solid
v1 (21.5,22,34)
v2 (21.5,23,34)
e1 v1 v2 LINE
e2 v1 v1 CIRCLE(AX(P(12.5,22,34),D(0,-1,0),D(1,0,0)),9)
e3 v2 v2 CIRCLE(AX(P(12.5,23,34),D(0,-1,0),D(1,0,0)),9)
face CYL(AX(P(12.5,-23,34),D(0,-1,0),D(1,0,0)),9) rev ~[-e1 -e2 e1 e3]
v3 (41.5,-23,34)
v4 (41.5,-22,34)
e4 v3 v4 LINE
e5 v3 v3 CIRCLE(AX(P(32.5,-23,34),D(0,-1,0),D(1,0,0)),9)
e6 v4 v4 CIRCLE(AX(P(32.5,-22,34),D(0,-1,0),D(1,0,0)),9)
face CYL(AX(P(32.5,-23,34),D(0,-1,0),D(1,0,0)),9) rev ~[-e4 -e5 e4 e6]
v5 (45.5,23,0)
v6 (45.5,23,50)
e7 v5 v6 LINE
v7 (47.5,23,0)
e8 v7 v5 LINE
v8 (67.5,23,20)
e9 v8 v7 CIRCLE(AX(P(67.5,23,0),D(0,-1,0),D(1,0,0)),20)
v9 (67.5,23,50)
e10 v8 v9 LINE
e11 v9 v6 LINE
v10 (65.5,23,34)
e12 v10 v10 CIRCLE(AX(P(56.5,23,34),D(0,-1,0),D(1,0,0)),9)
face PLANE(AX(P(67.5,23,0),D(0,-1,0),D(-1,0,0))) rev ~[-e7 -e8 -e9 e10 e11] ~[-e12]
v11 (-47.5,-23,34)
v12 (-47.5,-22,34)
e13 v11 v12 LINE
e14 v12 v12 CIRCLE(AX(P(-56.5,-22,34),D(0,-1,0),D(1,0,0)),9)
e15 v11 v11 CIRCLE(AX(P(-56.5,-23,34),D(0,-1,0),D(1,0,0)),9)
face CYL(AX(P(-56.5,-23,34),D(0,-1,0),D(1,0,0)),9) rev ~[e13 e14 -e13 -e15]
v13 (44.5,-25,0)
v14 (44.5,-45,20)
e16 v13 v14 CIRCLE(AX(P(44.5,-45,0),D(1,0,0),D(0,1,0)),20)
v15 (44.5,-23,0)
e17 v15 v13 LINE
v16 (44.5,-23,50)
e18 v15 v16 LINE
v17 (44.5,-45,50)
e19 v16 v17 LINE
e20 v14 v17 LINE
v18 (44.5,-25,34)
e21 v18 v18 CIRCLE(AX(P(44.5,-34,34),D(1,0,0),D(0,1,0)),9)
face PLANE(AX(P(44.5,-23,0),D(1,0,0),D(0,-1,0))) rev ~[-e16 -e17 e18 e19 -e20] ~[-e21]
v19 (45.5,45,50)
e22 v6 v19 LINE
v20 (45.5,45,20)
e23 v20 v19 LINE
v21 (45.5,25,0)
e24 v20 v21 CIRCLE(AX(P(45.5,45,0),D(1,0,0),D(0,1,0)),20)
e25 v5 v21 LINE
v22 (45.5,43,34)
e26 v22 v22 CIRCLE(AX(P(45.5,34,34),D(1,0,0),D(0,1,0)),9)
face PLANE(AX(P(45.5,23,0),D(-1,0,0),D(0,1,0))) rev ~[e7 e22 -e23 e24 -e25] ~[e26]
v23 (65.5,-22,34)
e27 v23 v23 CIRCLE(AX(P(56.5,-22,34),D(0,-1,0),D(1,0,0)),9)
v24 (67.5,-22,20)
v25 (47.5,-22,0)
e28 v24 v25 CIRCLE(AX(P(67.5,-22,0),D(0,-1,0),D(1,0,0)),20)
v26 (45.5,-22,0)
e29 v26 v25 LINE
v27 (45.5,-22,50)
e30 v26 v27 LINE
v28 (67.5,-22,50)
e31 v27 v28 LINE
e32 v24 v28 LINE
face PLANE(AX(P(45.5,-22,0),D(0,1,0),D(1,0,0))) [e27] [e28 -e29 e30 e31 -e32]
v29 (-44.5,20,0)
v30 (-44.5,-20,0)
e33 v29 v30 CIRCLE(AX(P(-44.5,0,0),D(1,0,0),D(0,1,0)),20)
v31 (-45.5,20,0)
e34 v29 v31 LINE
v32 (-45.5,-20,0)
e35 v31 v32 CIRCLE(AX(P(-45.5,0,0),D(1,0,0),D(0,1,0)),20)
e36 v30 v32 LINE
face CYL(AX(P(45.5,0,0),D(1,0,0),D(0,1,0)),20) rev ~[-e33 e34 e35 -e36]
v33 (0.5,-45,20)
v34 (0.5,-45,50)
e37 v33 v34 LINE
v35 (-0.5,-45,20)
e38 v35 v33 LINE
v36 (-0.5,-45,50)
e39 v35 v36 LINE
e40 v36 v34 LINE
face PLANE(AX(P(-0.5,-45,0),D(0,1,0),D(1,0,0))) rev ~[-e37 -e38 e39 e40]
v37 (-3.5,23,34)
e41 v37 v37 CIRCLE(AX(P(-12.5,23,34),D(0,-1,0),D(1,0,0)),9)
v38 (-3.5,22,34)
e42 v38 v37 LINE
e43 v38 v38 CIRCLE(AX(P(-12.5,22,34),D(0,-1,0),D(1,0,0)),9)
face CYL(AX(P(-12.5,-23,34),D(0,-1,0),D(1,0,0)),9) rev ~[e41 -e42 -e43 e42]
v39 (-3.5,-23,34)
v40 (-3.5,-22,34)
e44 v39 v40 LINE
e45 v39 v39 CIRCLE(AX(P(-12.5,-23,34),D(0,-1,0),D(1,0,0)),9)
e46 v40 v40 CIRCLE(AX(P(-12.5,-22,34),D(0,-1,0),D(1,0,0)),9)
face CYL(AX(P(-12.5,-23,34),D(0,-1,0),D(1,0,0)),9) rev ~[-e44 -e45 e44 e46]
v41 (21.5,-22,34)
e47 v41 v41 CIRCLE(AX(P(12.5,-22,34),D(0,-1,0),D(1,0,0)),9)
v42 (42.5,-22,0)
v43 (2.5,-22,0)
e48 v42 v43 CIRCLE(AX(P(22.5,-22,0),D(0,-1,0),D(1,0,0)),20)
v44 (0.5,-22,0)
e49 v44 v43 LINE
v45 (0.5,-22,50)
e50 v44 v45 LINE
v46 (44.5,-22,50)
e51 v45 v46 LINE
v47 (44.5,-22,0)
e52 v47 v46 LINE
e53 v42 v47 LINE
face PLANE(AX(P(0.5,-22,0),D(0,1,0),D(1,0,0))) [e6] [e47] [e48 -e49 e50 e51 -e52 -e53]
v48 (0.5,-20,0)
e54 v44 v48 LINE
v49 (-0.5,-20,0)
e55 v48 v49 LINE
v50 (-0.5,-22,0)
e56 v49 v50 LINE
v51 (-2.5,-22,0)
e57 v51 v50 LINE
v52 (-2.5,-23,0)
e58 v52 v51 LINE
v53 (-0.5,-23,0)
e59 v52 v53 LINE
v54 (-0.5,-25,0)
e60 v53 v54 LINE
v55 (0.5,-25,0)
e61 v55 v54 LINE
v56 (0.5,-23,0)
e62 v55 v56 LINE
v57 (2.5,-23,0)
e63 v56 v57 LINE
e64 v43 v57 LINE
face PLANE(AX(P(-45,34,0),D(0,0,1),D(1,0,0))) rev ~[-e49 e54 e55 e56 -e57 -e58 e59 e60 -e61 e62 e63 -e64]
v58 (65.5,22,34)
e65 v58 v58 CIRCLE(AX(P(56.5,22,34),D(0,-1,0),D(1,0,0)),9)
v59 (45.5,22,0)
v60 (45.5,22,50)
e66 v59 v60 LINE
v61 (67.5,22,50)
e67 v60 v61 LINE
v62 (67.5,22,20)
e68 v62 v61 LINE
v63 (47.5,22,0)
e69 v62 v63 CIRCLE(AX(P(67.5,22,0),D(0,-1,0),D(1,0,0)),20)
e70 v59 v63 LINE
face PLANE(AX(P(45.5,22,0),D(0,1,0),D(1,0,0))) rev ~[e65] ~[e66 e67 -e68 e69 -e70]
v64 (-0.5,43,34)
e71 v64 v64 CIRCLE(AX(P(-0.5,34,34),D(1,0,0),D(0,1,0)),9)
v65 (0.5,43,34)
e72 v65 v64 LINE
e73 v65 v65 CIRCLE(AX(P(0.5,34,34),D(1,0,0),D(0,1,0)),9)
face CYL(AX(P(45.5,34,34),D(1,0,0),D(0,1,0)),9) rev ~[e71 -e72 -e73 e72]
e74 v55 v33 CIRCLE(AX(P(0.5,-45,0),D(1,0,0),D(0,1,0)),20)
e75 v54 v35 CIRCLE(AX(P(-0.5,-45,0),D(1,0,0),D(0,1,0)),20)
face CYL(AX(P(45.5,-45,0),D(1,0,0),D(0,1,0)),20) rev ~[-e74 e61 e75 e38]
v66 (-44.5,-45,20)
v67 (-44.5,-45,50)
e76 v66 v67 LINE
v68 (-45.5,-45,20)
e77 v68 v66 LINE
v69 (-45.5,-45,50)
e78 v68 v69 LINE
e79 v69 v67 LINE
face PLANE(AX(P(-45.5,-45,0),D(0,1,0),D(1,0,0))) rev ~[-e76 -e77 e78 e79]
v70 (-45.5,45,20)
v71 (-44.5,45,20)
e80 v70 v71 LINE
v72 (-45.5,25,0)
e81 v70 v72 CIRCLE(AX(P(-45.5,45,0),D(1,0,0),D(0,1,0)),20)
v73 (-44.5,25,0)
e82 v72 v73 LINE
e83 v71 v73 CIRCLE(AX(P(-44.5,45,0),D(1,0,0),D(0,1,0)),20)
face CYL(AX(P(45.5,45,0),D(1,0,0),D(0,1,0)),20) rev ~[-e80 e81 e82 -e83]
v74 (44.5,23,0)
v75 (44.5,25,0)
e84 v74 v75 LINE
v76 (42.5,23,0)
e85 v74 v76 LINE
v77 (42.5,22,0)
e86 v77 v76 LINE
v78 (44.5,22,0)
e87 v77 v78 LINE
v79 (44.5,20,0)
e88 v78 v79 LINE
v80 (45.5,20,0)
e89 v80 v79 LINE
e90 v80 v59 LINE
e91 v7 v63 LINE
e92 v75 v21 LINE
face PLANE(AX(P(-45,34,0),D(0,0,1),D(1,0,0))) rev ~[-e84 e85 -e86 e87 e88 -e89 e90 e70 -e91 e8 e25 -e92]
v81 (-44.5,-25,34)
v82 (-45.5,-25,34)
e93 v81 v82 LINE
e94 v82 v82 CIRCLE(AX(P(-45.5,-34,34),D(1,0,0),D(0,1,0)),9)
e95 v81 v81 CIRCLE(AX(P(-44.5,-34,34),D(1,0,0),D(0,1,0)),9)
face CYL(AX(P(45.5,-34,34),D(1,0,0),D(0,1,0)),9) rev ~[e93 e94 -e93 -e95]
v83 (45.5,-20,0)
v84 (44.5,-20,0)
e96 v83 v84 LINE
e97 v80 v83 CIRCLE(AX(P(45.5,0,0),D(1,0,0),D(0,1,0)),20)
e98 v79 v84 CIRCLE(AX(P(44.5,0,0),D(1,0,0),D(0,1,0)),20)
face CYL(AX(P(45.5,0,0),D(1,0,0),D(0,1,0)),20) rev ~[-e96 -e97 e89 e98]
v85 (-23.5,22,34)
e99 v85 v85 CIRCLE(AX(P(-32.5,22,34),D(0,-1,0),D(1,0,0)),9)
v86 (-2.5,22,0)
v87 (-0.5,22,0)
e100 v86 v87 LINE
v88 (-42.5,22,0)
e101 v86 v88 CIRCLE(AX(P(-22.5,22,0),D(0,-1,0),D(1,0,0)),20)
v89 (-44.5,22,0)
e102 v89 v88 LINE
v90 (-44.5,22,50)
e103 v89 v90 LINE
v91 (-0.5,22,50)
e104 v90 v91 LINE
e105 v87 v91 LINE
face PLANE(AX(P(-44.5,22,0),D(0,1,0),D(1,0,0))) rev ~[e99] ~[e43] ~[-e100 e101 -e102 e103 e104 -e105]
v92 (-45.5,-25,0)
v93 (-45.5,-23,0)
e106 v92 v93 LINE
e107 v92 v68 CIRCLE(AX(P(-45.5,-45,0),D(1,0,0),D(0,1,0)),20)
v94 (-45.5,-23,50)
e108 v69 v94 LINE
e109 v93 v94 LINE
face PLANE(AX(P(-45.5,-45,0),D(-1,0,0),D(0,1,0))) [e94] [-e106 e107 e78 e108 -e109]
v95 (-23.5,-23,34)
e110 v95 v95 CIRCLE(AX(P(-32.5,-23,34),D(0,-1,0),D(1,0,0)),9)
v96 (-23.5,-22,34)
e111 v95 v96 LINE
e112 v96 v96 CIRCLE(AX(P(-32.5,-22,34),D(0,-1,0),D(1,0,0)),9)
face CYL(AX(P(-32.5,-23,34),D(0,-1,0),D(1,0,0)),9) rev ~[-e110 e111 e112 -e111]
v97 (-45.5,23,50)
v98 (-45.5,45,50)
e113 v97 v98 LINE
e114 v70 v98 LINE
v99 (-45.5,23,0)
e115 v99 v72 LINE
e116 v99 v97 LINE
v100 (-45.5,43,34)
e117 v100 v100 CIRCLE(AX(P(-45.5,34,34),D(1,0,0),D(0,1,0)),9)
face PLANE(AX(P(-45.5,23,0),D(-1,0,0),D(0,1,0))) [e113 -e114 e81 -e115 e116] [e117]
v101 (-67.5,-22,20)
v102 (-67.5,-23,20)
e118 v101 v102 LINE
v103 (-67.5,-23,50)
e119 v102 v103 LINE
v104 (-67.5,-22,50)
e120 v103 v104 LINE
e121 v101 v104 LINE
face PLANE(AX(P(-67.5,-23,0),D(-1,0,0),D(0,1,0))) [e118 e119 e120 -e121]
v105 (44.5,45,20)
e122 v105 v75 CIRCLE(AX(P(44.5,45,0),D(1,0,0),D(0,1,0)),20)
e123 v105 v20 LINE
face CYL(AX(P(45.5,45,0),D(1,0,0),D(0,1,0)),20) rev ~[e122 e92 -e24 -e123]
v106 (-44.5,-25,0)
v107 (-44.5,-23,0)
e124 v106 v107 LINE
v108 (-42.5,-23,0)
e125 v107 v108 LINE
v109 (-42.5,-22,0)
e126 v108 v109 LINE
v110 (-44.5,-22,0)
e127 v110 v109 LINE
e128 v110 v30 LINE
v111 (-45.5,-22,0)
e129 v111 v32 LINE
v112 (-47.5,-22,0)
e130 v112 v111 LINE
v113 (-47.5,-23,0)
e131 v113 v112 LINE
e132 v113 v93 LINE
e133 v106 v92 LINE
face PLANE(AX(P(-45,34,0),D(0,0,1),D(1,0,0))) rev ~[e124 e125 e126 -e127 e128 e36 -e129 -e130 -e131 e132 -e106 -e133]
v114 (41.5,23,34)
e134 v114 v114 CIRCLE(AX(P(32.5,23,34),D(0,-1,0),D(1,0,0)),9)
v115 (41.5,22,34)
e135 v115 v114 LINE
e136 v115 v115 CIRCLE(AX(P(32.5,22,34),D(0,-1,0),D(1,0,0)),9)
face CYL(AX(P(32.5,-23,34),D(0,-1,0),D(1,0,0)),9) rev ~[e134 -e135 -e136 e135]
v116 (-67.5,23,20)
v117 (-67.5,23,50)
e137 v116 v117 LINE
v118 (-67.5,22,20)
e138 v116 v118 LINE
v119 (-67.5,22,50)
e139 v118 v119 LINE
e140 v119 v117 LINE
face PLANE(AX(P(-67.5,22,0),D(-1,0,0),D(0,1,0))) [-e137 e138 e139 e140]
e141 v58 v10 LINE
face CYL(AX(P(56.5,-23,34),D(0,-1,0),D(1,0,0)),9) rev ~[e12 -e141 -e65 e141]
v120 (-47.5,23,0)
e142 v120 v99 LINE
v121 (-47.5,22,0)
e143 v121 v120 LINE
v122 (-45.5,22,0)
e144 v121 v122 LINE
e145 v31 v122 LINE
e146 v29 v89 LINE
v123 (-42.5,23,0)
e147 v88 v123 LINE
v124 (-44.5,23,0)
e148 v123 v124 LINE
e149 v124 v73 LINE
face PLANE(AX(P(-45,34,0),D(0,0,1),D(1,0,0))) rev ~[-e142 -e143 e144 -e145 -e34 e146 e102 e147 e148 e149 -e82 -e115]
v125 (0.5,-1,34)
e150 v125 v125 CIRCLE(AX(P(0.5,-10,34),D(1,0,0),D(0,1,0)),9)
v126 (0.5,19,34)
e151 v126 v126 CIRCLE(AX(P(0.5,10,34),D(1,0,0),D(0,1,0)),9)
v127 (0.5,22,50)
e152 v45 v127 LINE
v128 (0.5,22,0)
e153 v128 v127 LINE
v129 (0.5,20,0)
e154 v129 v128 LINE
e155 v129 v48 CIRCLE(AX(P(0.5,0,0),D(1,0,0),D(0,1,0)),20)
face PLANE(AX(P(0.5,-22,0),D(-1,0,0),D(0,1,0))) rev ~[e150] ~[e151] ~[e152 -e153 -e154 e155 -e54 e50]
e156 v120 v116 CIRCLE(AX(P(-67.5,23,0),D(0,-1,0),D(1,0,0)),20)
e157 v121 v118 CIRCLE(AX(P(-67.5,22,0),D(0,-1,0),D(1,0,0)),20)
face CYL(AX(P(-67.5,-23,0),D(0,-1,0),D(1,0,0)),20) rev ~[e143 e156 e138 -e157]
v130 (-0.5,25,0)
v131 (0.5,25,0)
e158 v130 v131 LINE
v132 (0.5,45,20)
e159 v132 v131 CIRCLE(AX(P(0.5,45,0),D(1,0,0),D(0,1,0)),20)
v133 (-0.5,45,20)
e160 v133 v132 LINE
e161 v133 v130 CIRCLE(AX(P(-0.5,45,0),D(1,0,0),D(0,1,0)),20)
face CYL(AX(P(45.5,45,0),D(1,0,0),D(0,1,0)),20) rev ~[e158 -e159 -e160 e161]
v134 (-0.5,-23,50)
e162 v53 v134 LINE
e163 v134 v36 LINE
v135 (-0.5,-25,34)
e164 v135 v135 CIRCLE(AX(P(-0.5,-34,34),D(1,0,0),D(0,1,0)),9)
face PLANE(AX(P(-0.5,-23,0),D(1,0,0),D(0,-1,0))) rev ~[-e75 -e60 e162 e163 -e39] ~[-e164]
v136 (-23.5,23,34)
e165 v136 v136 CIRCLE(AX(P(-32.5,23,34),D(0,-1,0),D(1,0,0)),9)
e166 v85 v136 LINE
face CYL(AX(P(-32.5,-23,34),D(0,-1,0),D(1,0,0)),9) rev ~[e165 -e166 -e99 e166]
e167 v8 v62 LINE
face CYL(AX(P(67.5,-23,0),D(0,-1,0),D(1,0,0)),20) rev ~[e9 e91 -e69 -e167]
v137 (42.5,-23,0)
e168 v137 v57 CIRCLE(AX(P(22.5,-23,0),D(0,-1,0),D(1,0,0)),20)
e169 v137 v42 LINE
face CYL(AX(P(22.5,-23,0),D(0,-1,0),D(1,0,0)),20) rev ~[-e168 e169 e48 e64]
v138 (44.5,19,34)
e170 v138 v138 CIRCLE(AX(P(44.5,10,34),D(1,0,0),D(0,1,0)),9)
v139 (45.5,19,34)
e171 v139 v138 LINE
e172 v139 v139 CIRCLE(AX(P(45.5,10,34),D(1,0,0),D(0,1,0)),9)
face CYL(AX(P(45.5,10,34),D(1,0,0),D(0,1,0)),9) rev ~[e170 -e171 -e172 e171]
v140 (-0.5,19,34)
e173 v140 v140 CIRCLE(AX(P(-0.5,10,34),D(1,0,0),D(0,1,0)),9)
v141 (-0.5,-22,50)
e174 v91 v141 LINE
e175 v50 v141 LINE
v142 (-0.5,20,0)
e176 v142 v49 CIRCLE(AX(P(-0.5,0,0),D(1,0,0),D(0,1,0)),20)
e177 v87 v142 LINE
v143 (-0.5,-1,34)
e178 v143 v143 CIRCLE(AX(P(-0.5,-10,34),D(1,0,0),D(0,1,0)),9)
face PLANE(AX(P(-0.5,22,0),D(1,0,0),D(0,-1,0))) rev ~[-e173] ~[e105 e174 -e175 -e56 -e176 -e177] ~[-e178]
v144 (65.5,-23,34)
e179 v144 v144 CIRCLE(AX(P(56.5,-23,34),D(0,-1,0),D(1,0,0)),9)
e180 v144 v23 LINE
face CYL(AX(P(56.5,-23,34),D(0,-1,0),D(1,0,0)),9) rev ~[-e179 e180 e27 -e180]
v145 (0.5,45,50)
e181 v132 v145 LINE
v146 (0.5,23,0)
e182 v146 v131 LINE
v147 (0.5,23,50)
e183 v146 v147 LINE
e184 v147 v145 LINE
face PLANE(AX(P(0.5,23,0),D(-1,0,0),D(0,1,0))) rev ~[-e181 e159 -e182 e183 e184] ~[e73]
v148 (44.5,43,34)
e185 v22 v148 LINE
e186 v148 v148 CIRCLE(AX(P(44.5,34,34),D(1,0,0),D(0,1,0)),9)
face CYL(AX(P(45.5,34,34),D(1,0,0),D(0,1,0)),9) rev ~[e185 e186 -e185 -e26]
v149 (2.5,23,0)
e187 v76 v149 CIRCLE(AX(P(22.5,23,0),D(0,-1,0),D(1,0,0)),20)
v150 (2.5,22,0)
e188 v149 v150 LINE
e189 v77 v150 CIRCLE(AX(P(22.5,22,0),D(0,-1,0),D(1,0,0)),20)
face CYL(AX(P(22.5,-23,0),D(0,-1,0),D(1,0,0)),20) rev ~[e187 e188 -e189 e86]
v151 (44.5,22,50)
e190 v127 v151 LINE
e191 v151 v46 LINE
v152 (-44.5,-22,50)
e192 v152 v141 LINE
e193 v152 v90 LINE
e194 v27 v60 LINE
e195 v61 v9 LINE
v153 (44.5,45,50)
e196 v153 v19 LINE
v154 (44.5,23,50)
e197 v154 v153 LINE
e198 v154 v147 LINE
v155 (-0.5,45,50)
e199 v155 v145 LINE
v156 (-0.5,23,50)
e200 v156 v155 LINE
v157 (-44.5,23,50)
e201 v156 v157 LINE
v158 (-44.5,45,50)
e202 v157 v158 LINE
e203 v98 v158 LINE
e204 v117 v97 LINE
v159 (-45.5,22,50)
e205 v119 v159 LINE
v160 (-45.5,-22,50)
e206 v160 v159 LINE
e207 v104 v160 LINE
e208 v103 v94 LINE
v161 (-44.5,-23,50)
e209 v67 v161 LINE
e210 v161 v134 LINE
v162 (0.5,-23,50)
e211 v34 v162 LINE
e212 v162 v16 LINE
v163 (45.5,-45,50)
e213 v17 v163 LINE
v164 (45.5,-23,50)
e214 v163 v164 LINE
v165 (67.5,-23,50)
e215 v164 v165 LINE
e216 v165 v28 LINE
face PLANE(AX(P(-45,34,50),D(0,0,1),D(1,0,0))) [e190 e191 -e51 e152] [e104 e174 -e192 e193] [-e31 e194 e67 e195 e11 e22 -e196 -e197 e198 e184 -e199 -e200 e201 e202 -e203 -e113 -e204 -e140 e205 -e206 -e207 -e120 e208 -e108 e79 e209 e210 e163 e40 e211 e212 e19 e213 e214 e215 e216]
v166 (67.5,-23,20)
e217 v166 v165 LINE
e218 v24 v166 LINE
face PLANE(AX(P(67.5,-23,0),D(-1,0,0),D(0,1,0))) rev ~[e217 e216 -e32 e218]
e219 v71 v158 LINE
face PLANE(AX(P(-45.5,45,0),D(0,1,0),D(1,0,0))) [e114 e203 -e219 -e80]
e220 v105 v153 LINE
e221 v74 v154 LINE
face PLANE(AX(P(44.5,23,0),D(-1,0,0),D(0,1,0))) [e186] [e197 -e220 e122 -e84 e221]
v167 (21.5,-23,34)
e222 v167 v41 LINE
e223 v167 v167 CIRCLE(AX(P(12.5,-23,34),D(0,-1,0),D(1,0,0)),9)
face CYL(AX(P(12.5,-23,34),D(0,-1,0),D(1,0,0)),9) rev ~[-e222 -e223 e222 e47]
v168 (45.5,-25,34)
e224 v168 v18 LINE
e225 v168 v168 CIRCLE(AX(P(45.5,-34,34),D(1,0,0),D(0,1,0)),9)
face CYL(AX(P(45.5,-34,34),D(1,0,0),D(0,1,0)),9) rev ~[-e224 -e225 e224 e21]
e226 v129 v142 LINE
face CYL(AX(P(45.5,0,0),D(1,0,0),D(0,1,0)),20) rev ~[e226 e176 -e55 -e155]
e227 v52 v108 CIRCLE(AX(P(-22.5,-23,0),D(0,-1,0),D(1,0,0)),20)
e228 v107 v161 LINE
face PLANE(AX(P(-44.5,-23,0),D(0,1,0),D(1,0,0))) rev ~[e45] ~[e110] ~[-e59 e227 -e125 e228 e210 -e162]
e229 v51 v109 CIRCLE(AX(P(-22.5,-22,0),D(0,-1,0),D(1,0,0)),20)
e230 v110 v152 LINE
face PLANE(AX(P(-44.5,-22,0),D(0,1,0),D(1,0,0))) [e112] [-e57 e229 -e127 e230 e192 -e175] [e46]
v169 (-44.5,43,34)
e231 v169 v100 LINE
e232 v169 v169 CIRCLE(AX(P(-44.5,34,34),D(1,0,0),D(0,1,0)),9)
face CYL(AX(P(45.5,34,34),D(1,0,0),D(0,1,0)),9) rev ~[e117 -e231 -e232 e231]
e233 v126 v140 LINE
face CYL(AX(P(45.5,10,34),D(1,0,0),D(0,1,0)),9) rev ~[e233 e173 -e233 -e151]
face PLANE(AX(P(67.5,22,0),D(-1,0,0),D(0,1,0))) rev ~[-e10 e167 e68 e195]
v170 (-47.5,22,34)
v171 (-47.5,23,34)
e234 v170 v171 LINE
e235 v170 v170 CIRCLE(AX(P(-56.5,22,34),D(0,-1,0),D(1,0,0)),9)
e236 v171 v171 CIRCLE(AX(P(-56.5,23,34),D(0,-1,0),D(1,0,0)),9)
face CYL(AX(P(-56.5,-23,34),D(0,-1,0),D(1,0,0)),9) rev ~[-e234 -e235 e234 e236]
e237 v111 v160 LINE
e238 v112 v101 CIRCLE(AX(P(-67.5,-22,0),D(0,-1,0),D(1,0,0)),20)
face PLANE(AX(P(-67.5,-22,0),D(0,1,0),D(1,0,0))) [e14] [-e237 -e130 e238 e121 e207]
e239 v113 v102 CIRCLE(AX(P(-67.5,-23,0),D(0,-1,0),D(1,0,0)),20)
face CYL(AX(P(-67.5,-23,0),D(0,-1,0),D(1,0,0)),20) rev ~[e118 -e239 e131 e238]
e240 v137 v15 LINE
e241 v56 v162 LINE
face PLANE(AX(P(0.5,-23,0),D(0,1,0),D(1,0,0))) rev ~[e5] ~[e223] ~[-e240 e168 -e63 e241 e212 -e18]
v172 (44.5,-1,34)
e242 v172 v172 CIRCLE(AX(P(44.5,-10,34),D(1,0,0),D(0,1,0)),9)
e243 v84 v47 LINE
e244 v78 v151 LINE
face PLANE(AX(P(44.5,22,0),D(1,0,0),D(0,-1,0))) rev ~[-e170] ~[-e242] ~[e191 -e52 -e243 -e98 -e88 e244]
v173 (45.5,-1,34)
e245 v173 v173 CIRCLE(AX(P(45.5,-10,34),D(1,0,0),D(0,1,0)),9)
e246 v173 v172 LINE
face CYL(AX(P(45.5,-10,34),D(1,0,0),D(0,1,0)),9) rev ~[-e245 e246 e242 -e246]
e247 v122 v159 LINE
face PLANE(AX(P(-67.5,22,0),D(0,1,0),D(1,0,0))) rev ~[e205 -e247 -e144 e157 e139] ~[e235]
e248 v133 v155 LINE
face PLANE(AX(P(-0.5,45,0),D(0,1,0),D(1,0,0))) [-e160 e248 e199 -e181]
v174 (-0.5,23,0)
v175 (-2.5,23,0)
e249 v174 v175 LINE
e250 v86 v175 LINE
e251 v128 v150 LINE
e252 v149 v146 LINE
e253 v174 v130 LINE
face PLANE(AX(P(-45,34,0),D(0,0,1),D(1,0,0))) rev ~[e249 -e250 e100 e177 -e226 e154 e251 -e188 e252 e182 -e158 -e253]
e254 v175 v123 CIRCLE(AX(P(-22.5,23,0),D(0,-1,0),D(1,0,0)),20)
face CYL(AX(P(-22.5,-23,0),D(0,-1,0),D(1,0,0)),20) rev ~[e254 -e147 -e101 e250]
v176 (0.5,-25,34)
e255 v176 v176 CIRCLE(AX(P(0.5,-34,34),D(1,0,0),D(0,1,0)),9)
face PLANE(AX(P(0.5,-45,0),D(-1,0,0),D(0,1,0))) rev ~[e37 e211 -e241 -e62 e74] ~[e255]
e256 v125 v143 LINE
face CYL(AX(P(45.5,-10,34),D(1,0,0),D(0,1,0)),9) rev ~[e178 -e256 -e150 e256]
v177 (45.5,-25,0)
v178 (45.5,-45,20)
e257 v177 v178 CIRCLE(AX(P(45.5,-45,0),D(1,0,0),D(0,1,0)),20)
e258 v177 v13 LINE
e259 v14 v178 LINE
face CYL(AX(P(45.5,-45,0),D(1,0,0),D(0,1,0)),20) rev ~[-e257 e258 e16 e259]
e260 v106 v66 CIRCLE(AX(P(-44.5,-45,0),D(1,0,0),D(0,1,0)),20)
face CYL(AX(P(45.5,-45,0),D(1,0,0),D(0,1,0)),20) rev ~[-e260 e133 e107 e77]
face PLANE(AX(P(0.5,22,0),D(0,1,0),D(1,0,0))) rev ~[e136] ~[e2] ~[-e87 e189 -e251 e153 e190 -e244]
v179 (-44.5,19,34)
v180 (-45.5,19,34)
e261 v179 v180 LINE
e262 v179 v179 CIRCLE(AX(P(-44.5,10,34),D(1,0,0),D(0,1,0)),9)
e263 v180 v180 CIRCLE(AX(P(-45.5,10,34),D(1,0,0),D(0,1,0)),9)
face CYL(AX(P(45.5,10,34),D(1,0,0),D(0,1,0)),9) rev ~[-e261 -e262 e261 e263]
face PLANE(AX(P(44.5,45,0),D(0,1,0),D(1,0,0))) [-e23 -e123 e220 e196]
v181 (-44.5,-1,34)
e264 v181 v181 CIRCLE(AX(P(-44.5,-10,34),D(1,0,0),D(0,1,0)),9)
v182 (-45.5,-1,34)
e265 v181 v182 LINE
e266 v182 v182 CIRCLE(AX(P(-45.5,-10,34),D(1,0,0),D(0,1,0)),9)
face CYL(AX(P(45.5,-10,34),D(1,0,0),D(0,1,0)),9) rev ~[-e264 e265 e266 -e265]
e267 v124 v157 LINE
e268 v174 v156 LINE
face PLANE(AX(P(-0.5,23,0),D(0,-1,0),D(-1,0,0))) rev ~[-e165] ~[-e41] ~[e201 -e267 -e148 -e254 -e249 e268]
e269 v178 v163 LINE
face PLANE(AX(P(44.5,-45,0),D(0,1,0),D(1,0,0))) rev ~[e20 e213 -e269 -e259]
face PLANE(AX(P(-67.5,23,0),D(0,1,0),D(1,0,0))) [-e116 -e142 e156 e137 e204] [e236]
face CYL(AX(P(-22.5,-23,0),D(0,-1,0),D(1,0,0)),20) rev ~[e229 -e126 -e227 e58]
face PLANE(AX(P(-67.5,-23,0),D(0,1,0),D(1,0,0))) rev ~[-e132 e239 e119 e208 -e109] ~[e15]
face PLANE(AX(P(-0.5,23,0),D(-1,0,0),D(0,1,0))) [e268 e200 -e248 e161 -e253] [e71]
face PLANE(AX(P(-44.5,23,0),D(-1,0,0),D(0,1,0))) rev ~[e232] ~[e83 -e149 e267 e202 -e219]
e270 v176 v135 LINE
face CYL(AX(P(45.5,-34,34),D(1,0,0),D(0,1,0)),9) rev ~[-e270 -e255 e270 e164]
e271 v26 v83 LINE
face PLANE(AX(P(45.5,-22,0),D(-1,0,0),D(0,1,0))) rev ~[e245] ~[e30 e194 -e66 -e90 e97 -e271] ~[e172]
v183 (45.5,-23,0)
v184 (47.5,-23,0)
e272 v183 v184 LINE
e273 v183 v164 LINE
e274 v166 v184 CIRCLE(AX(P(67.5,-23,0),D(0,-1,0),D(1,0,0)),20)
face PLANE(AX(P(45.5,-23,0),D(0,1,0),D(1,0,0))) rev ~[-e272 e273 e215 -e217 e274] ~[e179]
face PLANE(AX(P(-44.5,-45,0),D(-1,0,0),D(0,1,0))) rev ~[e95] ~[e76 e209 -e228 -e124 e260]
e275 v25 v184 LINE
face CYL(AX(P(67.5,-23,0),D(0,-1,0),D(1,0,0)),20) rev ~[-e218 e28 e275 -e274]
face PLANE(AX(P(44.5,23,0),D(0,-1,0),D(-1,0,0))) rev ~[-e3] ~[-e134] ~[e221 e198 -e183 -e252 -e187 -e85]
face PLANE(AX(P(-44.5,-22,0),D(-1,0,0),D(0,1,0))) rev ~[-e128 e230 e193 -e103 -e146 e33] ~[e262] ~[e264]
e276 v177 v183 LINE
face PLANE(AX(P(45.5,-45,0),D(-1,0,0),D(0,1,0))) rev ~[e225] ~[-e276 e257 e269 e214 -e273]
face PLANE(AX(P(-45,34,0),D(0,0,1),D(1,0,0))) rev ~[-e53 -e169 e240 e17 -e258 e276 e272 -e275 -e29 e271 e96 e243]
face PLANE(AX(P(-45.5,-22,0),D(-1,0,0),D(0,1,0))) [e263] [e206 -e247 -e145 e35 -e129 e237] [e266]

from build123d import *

# Parameters (mm, degrees)
F0_W     = 1
F0_H     = 22
F0_W_2   = 22
F0_H_2   = 1
F0_W_3   = 44
F0_H_3   = 44
F1_DEPTH = 50
F2_R     = 9
F2_R_2   = 20
F3_DEPTH = 400
F4_R     = 9
F4_R_2   = 20
F5_DEPTH = 400


with BuildPart() as f1:
    # F0 (on Top) → F1 (new body)
    with BuildSketch(Plane.XY):
        with Locations((-45, 34)):
            Rectangle(F0_W, F0_H)
        with Locations((-56.5, 22.5)):
            Rectangle(F0_W_2, F0_H_2)
        with Locations((-22.5, 22.5)):
            Rectangle(F0_W_3, F0_H_2)
        with Locations((-45, 0)):
            Rectangle(F0_W, F0_H_3)
        with Locations((-45, 22.5)):
            Rectangle(F0_W, F0_H_2)
        with Locations((0, 22.5)):
            Rectangle(F0_W, F0_H_2)
        with Locations((0, 34)):
            Rectangle(F0_W, F0_H)
        with Locations((22.5, 22.5)):
            Rectangle(F0_W_3, F0_H_2)
        Rectangle(F0_W, F0_H_3)
        with Locations((45, 22.5)):
            Rectangle(F0_W, F0_H_2)
        with Locations((56.5, 22.5)):
            Rectangle(F0_W_2, F0_H_2)
        with Locations((45, 34)):
            Rectangle(F0_W, F0_H)
        with Locations((45, 0)):
            Rectangle(F0_W, F0_H_3)
        with Locations((56.5, -22.5)):
            Rectangle(F0_W_2, F0_H_2)
        with Locations((45, -34)):
            Rectangle(F0_W, F0_H)
        with Locations((45, -22.5)):
            Rectangle(F0_W, F0_H_2)
        with Locations((22.5, -22.5)):
            Rectangle(F0_W_3, F0_H_2)
        with Locations((0, -22.5)):
            Rectangle(F0_W, F0_H_2)
        with Locations((0, -34)):
            Rectangle(F0_W, F0_H)
        with Locations((-22.5, -22.5)):
            Rectangle(F0_W_3, F0_H_2)
        with Locations((-56.5, -22.5)):
            Rectangle(F0_W_2, F0_H_2)
        with Locations((-45, -34)):
            Rectangle(F0_W, F0_H)
        with Locations((-45, -22.5)):
            Rectangle(F0_W, F0_H_2)
    extrude(amount=F1_DEPTH)

    # F2 (on face) → F3 (cut)
    with BuildSketch(Plane.XZ.offset(23)):
        with Locations((-56.5, 34)):
            Circle(F2_R)
        with Locations((-67.5, 0)):
            Circle(F2_R_2)
        with BuildLine():
            Line((-42.5, 0), (-2.5, 0))
            ThreePointArc((-2.5, 0), (-22.5, 20), (-42.5, 0))
        make_face()
        with Locations((-32.5, 34)):
            Circle(F2_R)
        with Locations((-12.5, 34)):
            Circle(F2_R)
        with Locations((22.5, 0)):
            Circle(F2_R_2)
        with Locations((12.5, 34)):
            Circle(F2_R)
        with Locations((32.5, 34)):
            Circle(F2_R)
        with Locations((56.5, 34)):
            Circle(F2_R)
        with Locations((67.5, 0)):
            Circle(F2_R_2)
    extrude(amount=-F3_DEPTH, mode=Mode.SUBTRACT)

    # F4 (on face) → F5 (cut)
    with BuildSketch(Plane.YZ.offset(45.5)):
        with Locations((-34, 34)):
            Circle(F4_R)
        with Locations((-10, 34)):
            Circle(F4_R)
        with Locations((10, 34)):
            Circle(F4_R)
        with Locations((34, 34)):
            Circle(F4_R)
        with Locations((45, 0)):
            Circle(F4_R_2)
        with BuildLine():
            Line((-20, 0), (20, 0))
            ThreePointArc((20, 0), (0, 20), (-20, 0))
        make_face()
        with Locations((-45, 0)):
            Circle(F4_R_2)
    extrude(amount=-F5_DEPTH, mode=Mode.SUBTRACT)


solid = f1.part
